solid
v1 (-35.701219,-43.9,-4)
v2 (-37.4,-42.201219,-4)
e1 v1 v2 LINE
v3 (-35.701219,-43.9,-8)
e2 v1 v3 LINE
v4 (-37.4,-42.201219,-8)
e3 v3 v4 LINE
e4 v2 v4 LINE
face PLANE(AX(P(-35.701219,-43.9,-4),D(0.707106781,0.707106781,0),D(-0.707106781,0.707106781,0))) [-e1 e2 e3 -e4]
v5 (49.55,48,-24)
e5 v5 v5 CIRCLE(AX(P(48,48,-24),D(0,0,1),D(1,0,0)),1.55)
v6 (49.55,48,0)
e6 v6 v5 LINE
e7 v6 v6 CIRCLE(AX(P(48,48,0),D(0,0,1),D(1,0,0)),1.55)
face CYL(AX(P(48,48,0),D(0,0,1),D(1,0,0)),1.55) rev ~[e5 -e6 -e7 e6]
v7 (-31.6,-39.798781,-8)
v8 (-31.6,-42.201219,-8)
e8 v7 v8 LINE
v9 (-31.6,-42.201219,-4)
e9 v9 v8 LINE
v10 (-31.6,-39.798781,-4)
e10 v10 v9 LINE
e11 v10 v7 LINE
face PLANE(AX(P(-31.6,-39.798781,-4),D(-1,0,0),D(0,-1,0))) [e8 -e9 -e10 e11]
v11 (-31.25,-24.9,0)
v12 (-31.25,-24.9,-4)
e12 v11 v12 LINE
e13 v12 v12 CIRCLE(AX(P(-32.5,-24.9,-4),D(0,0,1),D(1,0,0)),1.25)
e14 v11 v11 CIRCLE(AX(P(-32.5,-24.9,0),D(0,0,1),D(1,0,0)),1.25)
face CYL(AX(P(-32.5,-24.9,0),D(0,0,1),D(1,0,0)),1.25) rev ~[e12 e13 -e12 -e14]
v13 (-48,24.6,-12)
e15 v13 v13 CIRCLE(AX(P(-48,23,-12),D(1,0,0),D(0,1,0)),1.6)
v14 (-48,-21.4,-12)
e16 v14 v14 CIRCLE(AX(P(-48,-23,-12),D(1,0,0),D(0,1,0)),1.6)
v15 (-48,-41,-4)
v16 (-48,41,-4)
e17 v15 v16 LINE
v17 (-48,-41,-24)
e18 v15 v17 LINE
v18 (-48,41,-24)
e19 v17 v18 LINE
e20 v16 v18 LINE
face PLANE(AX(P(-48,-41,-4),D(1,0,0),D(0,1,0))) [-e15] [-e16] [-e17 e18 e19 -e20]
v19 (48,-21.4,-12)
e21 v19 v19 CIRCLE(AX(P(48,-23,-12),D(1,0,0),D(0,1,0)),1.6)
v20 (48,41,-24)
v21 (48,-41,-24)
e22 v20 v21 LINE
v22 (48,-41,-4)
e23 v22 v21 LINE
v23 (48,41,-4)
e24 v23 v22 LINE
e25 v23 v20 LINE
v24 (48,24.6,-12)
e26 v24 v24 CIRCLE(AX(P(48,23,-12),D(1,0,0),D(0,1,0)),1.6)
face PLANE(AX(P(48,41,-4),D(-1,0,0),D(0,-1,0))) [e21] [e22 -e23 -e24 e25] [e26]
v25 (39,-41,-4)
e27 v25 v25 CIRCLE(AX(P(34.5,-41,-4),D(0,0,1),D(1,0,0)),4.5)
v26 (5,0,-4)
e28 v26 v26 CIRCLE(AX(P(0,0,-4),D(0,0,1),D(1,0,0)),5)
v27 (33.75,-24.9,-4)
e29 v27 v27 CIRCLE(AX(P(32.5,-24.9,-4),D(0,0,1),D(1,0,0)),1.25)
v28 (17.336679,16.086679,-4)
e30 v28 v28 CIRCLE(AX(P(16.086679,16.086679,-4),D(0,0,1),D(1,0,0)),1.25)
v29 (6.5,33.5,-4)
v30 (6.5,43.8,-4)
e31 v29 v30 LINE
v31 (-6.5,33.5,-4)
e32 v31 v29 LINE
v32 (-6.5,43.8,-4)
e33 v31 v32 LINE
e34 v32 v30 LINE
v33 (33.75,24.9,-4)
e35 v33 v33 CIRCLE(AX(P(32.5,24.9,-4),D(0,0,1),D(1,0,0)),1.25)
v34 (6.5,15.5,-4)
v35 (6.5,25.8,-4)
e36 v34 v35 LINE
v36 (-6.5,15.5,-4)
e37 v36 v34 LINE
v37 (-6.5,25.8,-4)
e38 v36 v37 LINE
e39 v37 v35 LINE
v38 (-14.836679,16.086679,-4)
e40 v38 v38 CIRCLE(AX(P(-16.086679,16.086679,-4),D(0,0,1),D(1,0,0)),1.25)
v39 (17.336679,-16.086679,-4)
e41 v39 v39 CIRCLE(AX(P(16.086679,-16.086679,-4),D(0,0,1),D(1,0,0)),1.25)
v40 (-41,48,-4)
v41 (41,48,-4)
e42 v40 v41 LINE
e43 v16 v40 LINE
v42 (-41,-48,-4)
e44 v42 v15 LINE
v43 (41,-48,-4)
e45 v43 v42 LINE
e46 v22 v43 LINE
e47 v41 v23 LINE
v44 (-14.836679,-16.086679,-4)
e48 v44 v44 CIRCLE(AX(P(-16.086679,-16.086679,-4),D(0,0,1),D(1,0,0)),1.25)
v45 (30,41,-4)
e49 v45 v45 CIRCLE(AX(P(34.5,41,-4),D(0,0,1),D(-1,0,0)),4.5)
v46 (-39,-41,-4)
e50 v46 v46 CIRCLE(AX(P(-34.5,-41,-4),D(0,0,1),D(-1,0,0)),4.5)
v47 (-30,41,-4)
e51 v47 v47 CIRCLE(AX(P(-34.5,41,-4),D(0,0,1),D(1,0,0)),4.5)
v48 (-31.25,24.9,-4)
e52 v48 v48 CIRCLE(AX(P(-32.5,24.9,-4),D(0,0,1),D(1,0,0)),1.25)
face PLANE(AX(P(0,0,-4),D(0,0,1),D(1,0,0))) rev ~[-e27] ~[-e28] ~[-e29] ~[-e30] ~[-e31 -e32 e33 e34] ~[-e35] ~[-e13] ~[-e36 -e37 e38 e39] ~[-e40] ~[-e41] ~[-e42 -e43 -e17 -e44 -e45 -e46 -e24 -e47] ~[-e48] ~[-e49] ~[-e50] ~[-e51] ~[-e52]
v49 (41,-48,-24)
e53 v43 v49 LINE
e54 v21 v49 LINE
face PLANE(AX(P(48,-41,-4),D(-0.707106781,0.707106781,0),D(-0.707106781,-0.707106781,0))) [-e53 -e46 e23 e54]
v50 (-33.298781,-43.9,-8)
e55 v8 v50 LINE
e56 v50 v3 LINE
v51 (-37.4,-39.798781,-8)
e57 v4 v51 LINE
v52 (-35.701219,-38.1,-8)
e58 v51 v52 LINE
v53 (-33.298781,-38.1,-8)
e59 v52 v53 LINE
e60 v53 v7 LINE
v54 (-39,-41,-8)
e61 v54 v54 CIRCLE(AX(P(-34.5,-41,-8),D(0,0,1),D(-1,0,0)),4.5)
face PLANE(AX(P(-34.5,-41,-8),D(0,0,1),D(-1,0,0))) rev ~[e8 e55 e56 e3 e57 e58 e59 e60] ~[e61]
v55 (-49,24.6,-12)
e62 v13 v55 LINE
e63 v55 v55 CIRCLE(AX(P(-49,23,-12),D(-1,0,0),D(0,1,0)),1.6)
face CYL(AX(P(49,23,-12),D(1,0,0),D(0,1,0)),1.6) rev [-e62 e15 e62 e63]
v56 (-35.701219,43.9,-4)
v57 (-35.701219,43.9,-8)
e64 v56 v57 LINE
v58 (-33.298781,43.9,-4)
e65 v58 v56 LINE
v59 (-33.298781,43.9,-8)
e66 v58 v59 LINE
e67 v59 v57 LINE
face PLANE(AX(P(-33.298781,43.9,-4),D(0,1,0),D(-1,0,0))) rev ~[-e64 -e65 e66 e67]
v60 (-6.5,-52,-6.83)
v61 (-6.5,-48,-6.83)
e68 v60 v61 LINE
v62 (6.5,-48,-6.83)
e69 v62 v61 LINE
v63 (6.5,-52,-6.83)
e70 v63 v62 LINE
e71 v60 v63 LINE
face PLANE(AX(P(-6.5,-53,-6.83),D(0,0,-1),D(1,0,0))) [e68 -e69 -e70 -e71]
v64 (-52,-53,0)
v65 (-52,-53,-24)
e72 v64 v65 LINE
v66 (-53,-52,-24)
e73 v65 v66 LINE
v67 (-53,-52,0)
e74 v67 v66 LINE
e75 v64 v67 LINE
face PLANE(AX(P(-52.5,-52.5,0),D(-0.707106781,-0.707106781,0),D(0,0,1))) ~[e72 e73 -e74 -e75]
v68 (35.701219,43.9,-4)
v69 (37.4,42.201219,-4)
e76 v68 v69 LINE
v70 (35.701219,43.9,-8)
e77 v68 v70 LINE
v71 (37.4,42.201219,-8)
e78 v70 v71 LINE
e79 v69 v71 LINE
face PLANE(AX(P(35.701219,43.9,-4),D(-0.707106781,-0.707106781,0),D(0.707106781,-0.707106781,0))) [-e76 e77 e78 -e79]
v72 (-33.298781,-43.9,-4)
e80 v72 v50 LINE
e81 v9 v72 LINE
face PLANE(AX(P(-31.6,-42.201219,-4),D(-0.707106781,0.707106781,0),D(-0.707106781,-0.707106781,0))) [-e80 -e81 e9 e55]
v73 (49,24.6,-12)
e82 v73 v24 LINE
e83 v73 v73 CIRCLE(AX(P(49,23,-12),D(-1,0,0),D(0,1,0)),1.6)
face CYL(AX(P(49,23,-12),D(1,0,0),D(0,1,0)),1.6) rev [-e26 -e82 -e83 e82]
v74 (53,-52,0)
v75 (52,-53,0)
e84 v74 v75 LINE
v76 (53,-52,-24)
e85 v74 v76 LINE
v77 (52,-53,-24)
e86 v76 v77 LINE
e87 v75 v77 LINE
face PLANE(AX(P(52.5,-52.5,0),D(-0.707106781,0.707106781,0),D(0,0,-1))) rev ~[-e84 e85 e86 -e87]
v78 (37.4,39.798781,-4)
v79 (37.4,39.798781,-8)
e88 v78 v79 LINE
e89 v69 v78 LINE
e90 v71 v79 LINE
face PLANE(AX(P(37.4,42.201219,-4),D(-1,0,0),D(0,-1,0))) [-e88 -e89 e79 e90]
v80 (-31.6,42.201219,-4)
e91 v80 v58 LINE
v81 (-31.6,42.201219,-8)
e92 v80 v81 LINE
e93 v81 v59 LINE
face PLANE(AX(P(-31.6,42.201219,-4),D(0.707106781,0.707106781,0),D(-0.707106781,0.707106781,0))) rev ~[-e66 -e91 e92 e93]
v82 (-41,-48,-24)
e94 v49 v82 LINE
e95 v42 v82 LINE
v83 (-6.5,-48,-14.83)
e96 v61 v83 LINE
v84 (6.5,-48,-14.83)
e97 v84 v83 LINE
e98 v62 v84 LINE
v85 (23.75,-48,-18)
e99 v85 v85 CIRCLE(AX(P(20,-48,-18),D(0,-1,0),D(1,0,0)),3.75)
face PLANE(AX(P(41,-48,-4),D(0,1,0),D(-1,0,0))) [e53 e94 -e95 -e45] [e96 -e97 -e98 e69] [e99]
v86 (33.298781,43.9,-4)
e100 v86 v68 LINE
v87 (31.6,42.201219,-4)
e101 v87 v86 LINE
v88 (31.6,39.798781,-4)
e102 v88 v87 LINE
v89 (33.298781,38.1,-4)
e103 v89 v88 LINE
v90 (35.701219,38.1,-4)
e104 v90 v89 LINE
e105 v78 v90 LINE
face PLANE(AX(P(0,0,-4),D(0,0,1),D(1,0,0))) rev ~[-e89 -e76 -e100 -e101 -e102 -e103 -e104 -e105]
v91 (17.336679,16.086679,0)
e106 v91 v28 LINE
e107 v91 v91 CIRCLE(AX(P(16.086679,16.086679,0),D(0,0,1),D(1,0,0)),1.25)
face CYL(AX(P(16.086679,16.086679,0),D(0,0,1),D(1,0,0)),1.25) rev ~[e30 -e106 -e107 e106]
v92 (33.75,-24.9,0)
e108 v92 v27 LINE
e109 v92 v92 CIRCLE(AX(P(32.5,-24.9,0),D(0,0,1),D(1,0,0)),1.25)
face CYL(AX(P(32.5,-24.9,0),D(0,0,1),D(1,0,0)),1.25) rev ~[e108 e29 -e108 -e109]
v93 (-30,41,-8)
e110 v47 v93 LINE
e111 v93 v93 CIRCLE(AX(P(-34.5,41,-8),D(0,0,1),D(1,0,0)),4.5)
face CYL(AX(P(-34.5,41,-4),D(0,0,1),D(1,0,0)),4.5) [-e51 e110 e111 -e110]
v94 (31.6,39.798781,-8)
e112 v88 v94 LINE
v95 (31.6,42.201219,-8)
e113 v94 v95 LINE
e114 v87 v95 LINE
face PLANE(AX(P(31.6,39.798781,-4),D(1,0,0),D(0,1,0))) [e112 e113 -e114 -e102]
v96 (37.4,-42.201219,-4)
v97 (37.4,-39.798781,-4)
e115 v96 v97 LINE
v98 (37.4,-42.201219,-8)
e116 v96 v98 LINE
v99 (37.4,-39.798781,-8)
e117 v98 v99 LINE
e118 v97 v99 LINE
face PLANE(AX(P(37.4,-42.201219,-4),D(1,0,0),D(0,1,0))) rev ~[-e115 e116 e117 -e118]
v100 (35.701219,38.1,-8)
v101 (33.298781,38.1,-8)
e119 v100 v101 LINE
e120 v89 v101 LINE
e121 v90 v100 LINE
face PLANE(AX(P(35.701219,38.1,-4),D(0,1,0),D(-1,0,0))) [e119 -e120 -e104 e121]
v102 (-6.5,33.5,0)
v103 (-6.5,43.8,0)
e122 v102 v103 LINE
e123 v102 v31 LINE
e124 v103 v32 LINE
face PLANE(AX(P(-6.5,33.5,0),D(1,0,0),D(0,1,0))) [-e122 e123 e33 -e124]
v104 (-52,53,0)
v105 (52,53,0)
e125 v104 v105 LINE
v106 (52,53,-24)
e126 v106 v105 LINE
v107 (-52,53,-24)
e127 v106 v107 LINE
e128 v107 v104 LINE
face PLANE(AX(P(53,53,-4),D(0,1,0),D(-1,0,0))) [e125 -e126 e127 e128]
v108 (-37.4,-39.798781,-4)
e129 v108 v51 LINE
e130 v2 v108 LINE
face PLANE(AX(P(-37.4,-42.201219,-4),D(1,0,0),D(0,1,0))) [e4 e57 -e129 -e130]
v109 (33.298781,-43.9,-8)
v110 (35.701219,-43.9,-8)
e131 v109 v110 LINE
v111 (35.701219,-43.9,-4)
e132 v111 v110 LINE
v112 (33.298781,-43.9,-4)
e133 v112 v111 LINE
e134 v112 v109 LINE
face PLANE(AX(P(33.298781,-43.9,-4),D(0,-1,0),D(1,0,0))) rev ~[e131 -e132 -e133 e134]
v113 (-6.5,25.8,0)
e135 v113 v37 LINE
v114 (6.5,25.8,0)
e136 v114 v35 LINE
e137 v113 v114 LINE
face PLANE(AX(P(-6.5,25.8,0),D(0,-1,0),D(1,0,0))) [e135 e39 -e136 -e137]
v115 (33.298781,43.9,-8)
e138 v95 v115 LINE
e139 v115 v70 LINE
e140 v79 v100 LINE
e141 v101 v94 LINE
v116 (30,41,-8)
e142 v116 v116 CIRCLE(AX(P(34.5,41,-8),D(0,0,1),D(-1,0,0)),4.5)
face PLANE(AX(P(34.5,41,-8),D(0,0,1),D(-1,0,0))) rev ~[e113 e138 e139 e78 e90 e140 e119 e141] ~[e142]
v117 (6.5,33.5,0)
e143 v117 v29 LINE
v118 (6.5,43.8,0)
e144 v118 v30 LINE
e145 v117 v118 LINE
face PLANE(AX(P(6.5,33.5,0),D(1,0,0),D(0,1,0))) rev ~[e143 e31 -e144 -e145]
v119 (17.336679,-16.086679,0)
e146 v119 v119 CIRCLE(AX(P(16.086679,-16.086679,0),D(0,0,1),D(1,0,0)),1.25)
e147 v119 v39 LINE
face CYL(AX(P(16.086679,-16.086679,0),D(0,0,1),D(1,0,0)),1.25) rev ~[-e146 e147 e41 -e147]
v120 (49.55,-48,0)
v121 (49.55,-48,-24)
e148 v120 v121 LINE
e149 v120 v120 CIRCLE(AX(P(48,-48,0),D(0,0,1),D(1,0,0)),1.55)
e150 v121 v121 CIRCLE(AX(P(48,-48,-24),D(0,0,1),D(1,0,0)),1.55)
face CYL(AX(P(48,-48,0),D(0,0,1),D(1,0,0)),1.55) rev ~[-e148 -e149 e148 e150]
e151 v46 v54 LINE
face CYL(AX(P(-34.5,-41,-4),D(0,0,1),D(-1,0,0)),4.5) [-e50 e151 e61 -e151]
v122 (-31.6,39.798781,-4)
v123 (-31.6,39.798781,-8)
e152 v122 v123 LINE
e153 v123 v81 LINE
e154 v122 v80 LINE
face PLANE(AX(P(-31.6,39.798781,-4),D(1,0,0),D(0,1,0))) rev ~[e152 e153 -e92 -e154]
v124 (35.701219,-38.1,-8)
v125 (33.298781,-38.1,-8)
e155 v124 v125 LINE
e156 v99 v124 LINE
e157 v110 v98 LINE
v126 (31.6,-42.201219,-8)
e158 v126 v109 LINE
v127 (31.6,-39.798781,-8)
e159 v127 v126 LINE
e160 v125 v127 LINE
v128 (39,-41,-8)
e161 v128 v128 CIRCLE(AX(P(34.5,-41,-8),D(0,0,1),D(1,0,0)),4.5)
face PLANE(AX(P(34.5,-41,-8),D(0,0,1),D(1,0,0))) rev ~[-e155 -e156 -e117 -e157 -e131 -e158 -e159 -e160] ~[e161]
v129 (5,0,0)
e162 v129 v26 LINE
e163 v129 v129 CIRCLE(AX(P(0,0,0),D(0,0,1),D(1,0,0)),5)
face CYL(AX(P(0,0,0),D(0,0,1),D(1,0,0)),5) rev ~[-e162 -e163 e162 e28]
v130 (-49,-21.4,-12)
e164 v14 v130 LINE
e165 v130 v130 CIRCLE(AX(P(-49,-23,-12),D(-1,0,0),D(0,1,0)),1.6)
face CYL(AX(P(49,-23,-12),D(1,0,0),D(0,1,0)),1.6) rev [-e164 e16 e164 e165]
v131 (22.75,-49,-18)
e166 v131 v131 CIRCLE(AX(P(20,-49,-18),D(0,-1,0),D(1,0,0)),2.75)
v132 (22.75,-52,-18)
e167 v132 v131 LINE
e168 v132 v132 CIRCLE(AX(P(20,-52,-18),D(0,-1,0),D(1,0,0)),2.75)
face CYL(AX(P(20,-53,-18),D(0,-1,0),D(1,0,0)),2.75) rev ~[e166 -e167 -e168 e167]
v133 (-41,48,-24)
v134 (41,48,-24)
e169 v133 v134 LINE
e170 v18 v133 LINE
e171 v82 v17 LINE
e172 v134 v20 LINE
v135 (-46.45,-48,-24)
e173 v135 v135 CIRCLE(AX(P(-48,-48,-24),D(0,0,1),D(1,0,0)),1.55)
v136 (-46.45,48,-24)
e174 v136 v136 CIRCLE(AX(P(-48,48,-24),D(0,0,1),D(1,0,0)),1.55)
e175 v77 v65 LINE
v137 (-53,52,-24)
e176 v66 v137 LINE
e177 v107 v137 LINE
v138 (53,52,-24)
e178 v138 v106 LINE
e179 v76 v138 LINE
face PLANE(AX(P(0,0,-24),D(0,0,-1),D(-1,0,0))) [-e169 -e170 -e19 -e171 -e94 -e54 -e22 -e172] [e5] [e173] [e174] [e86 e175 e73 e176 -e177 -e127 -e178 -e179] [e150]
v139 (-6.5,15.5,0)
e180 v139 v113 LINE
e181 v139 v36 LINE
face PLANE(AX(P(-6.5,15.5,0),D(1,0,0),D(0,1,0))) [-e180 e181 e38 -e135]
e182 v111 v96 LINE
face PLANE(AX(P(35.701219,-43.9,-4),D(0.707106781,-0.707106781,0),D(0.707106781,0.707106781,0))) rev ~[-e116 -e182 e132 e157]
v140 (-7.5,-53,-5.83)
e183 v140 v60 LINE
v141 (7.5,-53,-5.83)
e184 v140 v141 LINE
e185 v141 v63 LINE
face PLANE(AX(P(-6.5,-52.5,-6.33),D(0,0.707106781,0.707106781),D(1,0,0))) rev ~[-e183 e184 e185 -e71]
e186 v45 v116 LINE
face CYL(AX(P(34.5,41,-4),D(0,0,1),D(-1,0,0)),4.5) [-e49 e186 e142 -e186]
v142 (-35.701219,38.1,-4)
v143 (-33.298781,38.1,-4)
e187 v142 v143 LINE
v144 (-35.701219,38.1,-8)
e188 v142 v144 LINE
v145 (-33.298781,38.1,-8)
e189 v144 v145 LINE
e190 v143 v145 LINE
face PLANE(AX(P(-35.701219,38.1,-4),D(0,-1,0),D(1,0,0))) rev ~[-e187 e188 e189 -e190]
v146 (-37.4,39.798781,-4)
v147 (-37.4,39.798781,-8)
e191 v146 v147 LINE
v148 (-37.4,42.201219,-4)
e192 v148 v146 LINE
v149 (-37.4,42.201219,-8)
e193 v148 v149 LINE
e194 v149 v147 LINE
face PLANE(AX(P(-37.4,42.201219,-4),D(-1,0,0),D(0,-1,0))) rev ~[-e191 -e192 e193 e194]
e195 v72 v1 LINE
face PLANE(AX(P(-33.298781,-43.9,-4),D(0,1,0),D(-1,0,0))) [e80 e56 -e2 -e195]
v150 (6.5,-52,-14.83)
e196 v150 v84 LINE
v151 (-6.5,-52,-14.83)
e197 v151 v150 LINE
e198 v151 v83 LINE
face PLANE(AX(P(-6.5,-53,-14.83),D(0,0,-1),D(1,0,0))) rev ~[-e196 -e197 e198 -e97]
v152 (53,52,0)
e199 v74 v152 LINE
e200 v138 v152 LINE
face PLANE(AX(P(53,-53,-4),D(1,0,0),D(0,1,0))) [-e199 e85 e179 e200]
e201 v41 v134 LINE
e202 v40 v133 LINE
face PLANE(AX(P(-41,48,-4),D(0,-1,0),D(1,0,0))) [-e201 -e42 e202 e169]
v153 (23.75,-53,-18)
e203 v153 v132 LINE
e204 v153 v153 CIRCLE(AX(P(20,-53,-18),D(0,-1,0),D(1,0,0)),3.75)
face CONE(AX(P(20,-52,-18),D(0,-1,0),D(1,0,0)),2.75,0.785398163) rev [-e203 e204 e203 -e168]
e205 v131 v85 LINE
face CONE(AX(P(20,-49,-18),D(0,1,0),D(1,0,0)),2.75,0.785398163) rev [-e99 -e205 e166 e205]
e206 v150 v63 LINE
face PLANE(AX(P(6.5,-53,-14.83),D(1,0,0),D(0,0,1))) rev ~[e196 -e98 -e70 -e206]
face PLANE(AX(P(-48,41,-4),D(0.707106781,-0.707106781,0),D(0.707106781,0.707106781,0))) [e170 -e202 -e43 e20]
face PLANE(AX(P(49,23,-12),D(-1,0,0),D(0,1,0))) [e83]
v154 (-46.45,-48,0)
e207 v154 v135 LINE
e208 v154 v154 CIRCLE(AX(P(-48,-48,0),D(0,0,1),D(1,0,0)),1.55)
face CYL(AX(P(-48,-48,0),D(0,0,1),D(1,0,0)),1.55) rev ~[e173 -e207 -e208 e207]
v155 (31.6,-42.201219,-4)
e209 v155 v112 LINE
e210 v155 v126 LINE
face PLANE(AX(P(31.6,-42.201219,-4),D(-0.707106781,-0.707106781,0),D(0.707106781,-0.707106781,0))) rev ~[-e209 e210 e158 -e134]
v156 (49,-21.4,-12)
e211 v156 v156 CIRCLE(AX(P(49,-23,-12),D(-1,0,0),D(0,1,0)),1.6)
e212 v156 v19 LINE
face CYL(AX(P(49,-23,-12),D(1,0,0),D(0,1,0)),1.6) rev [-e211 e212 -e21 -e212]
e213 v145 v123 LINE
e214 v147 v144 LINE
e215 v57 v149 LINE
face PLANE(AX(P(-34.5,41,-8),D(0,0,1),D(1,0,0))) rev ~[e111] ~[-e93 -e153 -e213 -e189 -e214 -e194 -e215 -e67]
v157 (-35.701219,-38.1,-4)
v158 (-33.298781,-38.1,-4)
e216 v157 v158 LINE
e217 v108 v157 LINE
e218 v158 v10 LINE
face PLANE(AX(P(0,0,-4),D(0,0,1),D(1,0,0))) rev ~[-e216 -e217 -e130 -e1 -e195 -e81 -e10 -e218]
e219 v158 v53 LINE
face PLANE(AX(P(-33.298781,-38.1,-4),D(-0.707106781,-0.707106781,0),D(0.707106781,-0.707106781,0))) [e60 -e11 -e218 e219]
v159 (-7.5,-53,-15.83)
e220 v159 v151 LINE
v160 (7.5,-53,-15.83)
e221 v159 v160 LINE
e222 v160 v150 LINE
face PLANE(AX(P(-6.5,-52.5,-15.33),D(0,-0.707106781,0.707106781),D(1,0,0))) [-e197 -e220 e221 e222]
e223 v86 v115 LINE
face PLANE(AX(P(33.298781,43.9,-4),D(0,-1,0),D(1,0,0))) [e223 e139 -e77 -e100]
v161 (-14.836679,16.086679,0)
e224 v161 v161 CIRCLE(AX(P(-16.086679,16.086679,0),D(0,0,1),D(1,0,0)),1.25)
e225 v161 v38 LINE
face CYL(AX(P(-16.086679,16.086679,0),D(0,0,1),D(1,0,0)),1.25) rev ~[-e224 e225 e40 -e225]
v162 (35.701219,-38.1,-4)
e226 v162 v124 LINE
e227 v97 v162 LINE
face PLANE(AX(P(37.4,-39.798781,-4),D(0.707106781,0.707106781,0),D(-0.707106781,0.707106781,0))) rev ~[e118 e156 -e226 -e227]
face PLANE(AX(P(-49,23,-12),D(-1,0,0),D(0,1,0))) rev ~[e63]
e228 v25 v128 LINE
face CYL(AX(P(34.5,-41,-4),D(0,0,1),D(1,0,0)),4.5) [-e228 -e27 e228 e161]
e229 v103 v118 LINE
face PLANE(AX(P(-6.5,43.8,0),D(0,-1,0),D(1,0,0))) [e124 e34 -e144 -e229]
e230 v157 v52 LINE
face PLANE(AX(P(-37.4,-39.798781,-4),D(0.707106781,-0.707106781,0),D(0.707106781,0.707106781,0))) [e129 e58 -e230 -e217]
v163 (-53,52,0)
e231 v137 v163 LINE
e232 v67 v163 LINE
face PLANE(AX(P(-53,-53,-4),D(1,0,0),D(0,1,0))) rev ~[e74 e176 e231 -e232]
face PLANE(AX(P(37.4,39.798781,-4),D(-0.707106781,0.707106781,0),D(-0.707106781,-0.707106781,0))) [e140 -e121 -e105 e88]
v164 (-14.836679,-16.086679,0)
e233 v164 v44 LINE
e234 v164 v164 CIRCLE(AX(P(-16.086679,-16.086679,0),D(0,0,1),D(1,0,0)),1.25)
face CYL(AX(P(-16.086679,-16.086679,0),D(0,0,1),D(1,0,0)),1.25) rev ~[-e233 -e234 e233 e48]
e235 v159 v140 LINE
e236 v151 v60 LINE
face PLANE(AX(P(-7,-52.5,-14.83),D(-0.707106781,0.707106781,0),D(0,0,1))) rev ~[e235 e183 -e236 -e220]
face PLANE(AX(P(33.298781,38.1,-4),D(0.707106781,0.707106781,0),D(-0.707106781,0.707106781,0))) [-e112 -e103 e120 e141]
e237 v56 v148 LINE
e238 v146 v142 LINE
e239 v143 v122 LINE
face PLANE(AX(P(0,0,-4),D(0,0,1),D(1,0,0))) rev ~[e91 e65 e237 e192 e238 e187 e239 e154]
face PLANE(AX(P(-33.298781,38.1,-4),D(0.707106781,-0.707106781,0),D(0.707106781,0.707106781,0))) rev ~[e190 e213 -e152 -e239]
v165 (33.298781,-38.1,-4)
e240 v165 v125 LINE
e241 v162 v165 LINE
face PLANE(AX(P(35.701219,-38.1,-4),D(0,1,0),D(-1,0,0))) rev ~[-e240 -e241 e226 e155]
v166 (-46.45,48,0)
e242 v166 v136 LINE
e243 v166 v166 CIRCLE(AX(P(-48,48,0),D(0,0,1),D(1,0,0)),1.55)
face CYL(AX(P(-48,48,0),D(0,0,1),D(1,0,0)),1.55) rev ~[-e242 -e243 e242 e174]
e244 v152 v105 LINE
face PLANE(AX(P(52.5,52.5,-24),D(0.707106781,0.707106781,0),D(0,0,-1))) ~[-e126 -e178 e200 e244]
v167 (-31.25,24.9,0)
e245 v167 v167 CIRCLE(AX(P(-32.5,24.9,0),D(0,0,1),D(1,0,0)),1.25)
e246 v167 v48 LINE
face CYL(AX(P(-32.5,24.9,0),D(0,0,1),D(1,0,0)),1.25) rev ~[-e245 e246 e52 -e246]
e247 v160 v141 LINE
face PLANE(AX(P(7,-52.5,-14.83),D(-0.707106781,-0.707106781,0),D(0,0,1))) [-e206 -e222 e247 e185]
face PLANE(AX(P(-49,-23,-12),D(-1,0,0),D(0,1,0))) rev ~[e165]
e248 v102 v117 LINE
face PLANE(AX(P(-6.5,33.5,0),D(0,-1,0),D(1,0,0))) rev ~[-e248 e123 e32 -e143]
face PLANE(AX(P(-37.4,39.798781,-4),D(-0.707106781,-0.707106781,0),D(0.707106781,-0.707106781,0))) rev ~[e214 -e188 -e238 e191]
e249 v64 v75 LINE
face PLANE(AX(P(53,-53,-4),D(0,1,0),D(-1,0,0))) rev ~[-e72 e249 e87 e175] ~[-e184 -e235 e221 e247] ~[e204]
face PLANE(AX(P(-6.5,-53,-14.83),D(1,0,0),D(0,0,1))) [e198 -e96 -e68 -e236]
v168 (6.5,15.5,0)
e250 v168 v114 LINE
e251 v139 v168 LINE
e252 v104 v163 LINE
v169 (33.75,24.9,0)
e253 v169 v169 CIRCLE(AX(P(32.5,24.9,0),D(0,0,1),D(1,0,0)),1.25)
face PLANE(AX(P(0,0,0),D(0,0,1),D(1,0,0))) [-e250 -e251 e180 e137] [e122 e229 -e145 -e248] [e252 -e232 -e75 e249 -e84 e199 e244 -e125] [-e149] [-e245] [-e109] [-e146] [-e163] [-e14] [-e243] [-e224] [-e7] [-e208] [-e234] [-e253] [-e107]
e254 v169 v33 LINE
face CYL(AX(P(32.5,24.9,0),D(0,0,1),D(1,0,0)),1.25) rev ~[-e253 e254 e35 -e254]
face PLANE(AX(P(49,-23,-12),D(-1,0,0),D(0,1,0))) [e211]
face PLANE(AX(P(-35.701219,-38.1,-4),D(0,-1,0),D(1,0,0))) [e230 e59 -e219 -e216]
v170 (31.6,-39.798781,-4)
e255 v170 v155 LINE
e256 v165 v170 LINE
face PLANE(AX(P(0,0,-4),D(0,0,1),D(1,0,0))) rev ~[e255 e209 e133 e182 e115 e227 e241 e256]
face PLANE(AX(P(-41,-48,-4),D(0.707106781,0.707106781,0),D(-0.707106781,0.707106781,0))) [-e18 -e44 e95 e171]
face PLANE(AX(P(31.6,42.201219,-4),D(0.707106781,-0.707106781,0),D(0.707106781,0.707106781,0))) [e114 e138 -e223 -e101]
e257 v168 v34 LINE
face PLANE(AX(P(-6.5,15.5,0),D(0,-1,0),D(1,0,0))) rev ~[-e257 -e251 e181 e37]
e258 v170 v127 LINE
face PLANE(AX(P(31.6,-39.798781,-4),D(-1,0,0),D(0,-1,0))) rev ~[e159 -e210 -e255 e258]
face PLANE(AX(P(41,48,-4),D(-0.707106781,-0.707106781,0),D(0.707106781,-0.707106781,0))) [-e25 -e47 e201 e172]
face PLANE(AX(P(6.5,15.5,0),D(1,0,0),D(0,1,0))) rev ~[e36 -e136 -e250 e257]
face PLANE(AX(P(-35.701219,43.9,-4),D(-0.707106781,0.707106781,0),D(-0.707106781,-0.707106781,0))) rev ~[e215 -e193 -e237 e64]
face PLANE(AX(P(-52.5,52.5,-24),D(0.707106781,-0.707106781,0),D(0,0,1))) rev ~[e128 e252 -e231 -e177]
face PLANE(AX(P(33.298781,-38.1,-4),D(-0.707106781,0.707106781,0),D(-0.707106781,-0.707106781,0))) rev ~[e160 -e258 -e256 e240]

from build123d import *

# Parameters (mm, degrees)
SKETCH1_W               = 106
SKETCH1_H               = 106
BOSS_EXTRUDE1_DEPTH     = 4
SKETCH2_W               = 106
SKETCH2_H               = 106
BOSS_EXTRUDE2_DEPTH     = 20
SKETCH7_R               = 1.55
CUT_EXTRUDE2_DEPTH      = 50
SKETCH8_R               = 1.25
SKETCH8_R_2             = 5
SKETCH8_W               = 13
SKETCH8_H               = 10.3
CUT_EXTRUDE3_DEPTH      = 10
SKETCH9_R               = 4.5
BOSS_EXTRUDE3_DEPTH     = 4
SKETCH14_R              = 2.75
SKETCH14_W              = 13
SKETCH14_H              = 8
CUT_EXTRUDE4_DEPTH      = 10
CHAMFER1_SIZE           = 1
CHAMFER2_SIZE           = 1
CUT_EXTRUDE5_DEPTH      = 97
CUT_EXTRUDE5_DEPTH_BACK = 1
SKETCH15_R              = 1.6
CHAMFER3_SIZE           = 1


with BuildPart() as part:
    # Sketch1 → Boss-Extrude1 (new body)
    with BuildSketch(Plane.XY):
        Rectangle(SKETCH1_W, SKETCH1_H)
    extrude(amount=-BOSS_EXTRUDE1_DEPTH)

    # Sketch2 → Boss-Extrude2 (add)
    with BuildSketch(Plane(origin=(0, 0, -4), x_dir=(-1, 0, 0), z_dir=(0, 0, -1))):
        Rectangle(SKETCH2_W, SKETCH2_H)
        Polygon((-48, 41), (-48, -41), (-41, -48), (41, -48), (48, -41), (48, 41), (41, 48), (-41, 48), align=None, mode=Mode.SUBTRACT)
    extrude(amount=BOSS_EXTRUDE2_DEPTH)

    # Sketch7 → Cut-Extrude2 (cut)
    with BuildSketch(Plane.XY):
        with Locations((-48, 48)):
            Circle(SKETCH7_R)
        with Locations((48, 48)):
            Circle(SKETCH7_R)
        with Locations((-48, -48)):
            Circle(SKETCH7_R)
        with Locations((48, -48)):
            Circle(SKETCH7_R)
    extrude(amount=-CUT_EXTRUDE2_DEPTH, mode=Mode.SUBTRACT)

    # Sketch8 → Cut-Extrude3 (cut)
    with BuildSketch(Plane.XY):
        with Locations((32.5, 24.9)):
            Circle(SKETCH8_R)
        with Locations((-32.5, 24.9)):
            Circle(SKETCH8_R)
        with Locations((-32.5, -24.9)):
            Circle(SKETCH8_R)
        with Locations((32.5, -24.9)):
            Circle(SKETCH8_R)
        with Locations((16.086679272, -16.086679272)):
            Circle(SKETCH8_R)
        with Locations((-16.086679272, -16.086679272)):
            Circle(SKETCH8_R)
        with Locations((16.086679272, 16.086679272)):
            Circle(SKETCH8_R)
        with Locations((-16.086679272, 16.086679272)):
            Circle(SKETCH8_R)
        Circle(SKETCH8_R_2)
        with Locations((0, 38.65)):
            Rectangle(SKETCH8_W, SKETCH8_H)
        with Locations((0, 20.65)):
            Rectangle(SKETCH8_W, SKETCH8_H)
    extrude(amount=-CUT_EXTRUDE3_DEPTH, mode=Mode.SUBTRACT)

    # Sketch9 → Boss-Extrude3 (add)
    # profile 1 of 4: a face of its own
    with BuildSketch(Plane.XY.offset(-4)):
        with Locations((-34.5, 41)):
            Circle(SKETCH9_R)
        Polygon((-35.701219331, 38.1), (-33.298780669, 38.1), (-31.6, 39.798780669), (-31.6, 42.201219331), (-33.298780669, 43.9), (-35.701219331, 43.9), (-37.4, 42.201219331), (-37.4, 39.798780669), align=None, mode=Mode.SUBTRACT)
    # profile 2 of 4: a face of its own
    with BuildSketch(Plane.XY.offset(-4)):
        with Locations(Location((34.5, 41, 0), (0, 0, 180))):
            Circle(SKETCH9_R)
        Polygon((37.4, 39.798780669), (35.701219331, 38.1), (33.298780669, 38.1), (31.6, 39.798780669), (31.6, 42.201219331), (33.298780669, 43.9), (35.701219331, 43.9), (37.4, 42.201219331), align=None, mode=Mode.SUBTRACT)
    # profile 3 of 4: a face of its own
    with BuildSketch(Plane.XY.offset(-4)):
        with Locations((34.5, -41)):
            Circle(SKETCH9_R)
        Polygon((35.701219331, -38.1), (33.298780669, -38.1), (31.6, -39.798780669), (31.6, -42.201219331), (33.298780669, -43.9), (35.701219331, -43.9), (37.4, -42.201219331), (37.4, -39.798780669), align=None, mode=Mode.SUBTRACT)
    # profile 4 of 4: a face of its own
    with BuildSketch(Plane.XY.offset(-4)):
        with Locations(Location((-34.5, -41, 0), (0, 0, 180))):
            Circle(SKETCH9_R)
        Polygon((-37.4, -39.798780669), (-35.701219331, -38.1), (-33.298780669, -38.1), (-31.6, -39.798780669), (-31.6, -42.201219331), (-33.298780669, -43.9), (-35.701219331, -43.9), (-37.4, -42.201219331), align=None, mode=Mode.SUBTRACT)
    extrude(amount=-BOSS_EXTRUDE3_DEPTH)

    # Sketch14 → Cut-Extrude4 (cut)
    with BuildSketch(Plane.XZ.offset(53)):
        with Locations((20, -18)):
            Circle(SKETCH14_R)
        with Locations((0, -10.83)):
            Rectangle(SKETCH14_W, SKETCH14_H)
    extrude(amount=-CUT_EXTRUDE4_DEPTH, mode=Mode.SUBTRACT)

    # Chamfer1
    chamfer1_edges = [part.edges().sort_by_distance(p)[0] for p in [
        (-53, 53, -12),
        (53, 53, -12),
        (53, -53, -12),
        (-53, -53, -12),
    ]]
    chamfer(chamfer1_edges, length=CHAMFER1_SIZE)

    # Chamfer2
    chamfer2_edges = [part.edges().sort_by_distance(p)[0] for p in [
        (-6.5, -53, -10.83),
        (0, -53, -14.83),
        (6.5, -53, -10.83),
        (0, -53, -6.83),
    ]]
    chamfer(chamfer2_edges, length=CHAMFER2_SIZE)

    # Sketch15 → Cut-Extrude5 (cut, two sides: drawn at the far end of the back side and taken through both)
    with BuildSketch(Plane.ZY.offset(-48).offset(-CUT_EXTRUDE5_DEPTH_BACK)):
        with Locations(Location((-12, -23, 0), (0, 0, 90))):
            Circle(SKETCH15_R)
        with Locations(Location((-12, 23, 0), (0, 0, 90))):
            Circle(SKETCH15_R)
    extrude(amount=CUT_EXTRUDE5_DEPTH + CUT_EXTRUDE5_DEPTH_BACK, mode=Mode.SUBTRACT)

    # Chamfer3
    chamfer3_edges = [part.edges().sort_by_distance(p)[0] for p in [
        (17.25, -48, -18),
        (17.25, -53, -18),
    ]]
    chamfer(chamfer3_edges, length=CHAMFER3_SIZE)


solid = part.part
